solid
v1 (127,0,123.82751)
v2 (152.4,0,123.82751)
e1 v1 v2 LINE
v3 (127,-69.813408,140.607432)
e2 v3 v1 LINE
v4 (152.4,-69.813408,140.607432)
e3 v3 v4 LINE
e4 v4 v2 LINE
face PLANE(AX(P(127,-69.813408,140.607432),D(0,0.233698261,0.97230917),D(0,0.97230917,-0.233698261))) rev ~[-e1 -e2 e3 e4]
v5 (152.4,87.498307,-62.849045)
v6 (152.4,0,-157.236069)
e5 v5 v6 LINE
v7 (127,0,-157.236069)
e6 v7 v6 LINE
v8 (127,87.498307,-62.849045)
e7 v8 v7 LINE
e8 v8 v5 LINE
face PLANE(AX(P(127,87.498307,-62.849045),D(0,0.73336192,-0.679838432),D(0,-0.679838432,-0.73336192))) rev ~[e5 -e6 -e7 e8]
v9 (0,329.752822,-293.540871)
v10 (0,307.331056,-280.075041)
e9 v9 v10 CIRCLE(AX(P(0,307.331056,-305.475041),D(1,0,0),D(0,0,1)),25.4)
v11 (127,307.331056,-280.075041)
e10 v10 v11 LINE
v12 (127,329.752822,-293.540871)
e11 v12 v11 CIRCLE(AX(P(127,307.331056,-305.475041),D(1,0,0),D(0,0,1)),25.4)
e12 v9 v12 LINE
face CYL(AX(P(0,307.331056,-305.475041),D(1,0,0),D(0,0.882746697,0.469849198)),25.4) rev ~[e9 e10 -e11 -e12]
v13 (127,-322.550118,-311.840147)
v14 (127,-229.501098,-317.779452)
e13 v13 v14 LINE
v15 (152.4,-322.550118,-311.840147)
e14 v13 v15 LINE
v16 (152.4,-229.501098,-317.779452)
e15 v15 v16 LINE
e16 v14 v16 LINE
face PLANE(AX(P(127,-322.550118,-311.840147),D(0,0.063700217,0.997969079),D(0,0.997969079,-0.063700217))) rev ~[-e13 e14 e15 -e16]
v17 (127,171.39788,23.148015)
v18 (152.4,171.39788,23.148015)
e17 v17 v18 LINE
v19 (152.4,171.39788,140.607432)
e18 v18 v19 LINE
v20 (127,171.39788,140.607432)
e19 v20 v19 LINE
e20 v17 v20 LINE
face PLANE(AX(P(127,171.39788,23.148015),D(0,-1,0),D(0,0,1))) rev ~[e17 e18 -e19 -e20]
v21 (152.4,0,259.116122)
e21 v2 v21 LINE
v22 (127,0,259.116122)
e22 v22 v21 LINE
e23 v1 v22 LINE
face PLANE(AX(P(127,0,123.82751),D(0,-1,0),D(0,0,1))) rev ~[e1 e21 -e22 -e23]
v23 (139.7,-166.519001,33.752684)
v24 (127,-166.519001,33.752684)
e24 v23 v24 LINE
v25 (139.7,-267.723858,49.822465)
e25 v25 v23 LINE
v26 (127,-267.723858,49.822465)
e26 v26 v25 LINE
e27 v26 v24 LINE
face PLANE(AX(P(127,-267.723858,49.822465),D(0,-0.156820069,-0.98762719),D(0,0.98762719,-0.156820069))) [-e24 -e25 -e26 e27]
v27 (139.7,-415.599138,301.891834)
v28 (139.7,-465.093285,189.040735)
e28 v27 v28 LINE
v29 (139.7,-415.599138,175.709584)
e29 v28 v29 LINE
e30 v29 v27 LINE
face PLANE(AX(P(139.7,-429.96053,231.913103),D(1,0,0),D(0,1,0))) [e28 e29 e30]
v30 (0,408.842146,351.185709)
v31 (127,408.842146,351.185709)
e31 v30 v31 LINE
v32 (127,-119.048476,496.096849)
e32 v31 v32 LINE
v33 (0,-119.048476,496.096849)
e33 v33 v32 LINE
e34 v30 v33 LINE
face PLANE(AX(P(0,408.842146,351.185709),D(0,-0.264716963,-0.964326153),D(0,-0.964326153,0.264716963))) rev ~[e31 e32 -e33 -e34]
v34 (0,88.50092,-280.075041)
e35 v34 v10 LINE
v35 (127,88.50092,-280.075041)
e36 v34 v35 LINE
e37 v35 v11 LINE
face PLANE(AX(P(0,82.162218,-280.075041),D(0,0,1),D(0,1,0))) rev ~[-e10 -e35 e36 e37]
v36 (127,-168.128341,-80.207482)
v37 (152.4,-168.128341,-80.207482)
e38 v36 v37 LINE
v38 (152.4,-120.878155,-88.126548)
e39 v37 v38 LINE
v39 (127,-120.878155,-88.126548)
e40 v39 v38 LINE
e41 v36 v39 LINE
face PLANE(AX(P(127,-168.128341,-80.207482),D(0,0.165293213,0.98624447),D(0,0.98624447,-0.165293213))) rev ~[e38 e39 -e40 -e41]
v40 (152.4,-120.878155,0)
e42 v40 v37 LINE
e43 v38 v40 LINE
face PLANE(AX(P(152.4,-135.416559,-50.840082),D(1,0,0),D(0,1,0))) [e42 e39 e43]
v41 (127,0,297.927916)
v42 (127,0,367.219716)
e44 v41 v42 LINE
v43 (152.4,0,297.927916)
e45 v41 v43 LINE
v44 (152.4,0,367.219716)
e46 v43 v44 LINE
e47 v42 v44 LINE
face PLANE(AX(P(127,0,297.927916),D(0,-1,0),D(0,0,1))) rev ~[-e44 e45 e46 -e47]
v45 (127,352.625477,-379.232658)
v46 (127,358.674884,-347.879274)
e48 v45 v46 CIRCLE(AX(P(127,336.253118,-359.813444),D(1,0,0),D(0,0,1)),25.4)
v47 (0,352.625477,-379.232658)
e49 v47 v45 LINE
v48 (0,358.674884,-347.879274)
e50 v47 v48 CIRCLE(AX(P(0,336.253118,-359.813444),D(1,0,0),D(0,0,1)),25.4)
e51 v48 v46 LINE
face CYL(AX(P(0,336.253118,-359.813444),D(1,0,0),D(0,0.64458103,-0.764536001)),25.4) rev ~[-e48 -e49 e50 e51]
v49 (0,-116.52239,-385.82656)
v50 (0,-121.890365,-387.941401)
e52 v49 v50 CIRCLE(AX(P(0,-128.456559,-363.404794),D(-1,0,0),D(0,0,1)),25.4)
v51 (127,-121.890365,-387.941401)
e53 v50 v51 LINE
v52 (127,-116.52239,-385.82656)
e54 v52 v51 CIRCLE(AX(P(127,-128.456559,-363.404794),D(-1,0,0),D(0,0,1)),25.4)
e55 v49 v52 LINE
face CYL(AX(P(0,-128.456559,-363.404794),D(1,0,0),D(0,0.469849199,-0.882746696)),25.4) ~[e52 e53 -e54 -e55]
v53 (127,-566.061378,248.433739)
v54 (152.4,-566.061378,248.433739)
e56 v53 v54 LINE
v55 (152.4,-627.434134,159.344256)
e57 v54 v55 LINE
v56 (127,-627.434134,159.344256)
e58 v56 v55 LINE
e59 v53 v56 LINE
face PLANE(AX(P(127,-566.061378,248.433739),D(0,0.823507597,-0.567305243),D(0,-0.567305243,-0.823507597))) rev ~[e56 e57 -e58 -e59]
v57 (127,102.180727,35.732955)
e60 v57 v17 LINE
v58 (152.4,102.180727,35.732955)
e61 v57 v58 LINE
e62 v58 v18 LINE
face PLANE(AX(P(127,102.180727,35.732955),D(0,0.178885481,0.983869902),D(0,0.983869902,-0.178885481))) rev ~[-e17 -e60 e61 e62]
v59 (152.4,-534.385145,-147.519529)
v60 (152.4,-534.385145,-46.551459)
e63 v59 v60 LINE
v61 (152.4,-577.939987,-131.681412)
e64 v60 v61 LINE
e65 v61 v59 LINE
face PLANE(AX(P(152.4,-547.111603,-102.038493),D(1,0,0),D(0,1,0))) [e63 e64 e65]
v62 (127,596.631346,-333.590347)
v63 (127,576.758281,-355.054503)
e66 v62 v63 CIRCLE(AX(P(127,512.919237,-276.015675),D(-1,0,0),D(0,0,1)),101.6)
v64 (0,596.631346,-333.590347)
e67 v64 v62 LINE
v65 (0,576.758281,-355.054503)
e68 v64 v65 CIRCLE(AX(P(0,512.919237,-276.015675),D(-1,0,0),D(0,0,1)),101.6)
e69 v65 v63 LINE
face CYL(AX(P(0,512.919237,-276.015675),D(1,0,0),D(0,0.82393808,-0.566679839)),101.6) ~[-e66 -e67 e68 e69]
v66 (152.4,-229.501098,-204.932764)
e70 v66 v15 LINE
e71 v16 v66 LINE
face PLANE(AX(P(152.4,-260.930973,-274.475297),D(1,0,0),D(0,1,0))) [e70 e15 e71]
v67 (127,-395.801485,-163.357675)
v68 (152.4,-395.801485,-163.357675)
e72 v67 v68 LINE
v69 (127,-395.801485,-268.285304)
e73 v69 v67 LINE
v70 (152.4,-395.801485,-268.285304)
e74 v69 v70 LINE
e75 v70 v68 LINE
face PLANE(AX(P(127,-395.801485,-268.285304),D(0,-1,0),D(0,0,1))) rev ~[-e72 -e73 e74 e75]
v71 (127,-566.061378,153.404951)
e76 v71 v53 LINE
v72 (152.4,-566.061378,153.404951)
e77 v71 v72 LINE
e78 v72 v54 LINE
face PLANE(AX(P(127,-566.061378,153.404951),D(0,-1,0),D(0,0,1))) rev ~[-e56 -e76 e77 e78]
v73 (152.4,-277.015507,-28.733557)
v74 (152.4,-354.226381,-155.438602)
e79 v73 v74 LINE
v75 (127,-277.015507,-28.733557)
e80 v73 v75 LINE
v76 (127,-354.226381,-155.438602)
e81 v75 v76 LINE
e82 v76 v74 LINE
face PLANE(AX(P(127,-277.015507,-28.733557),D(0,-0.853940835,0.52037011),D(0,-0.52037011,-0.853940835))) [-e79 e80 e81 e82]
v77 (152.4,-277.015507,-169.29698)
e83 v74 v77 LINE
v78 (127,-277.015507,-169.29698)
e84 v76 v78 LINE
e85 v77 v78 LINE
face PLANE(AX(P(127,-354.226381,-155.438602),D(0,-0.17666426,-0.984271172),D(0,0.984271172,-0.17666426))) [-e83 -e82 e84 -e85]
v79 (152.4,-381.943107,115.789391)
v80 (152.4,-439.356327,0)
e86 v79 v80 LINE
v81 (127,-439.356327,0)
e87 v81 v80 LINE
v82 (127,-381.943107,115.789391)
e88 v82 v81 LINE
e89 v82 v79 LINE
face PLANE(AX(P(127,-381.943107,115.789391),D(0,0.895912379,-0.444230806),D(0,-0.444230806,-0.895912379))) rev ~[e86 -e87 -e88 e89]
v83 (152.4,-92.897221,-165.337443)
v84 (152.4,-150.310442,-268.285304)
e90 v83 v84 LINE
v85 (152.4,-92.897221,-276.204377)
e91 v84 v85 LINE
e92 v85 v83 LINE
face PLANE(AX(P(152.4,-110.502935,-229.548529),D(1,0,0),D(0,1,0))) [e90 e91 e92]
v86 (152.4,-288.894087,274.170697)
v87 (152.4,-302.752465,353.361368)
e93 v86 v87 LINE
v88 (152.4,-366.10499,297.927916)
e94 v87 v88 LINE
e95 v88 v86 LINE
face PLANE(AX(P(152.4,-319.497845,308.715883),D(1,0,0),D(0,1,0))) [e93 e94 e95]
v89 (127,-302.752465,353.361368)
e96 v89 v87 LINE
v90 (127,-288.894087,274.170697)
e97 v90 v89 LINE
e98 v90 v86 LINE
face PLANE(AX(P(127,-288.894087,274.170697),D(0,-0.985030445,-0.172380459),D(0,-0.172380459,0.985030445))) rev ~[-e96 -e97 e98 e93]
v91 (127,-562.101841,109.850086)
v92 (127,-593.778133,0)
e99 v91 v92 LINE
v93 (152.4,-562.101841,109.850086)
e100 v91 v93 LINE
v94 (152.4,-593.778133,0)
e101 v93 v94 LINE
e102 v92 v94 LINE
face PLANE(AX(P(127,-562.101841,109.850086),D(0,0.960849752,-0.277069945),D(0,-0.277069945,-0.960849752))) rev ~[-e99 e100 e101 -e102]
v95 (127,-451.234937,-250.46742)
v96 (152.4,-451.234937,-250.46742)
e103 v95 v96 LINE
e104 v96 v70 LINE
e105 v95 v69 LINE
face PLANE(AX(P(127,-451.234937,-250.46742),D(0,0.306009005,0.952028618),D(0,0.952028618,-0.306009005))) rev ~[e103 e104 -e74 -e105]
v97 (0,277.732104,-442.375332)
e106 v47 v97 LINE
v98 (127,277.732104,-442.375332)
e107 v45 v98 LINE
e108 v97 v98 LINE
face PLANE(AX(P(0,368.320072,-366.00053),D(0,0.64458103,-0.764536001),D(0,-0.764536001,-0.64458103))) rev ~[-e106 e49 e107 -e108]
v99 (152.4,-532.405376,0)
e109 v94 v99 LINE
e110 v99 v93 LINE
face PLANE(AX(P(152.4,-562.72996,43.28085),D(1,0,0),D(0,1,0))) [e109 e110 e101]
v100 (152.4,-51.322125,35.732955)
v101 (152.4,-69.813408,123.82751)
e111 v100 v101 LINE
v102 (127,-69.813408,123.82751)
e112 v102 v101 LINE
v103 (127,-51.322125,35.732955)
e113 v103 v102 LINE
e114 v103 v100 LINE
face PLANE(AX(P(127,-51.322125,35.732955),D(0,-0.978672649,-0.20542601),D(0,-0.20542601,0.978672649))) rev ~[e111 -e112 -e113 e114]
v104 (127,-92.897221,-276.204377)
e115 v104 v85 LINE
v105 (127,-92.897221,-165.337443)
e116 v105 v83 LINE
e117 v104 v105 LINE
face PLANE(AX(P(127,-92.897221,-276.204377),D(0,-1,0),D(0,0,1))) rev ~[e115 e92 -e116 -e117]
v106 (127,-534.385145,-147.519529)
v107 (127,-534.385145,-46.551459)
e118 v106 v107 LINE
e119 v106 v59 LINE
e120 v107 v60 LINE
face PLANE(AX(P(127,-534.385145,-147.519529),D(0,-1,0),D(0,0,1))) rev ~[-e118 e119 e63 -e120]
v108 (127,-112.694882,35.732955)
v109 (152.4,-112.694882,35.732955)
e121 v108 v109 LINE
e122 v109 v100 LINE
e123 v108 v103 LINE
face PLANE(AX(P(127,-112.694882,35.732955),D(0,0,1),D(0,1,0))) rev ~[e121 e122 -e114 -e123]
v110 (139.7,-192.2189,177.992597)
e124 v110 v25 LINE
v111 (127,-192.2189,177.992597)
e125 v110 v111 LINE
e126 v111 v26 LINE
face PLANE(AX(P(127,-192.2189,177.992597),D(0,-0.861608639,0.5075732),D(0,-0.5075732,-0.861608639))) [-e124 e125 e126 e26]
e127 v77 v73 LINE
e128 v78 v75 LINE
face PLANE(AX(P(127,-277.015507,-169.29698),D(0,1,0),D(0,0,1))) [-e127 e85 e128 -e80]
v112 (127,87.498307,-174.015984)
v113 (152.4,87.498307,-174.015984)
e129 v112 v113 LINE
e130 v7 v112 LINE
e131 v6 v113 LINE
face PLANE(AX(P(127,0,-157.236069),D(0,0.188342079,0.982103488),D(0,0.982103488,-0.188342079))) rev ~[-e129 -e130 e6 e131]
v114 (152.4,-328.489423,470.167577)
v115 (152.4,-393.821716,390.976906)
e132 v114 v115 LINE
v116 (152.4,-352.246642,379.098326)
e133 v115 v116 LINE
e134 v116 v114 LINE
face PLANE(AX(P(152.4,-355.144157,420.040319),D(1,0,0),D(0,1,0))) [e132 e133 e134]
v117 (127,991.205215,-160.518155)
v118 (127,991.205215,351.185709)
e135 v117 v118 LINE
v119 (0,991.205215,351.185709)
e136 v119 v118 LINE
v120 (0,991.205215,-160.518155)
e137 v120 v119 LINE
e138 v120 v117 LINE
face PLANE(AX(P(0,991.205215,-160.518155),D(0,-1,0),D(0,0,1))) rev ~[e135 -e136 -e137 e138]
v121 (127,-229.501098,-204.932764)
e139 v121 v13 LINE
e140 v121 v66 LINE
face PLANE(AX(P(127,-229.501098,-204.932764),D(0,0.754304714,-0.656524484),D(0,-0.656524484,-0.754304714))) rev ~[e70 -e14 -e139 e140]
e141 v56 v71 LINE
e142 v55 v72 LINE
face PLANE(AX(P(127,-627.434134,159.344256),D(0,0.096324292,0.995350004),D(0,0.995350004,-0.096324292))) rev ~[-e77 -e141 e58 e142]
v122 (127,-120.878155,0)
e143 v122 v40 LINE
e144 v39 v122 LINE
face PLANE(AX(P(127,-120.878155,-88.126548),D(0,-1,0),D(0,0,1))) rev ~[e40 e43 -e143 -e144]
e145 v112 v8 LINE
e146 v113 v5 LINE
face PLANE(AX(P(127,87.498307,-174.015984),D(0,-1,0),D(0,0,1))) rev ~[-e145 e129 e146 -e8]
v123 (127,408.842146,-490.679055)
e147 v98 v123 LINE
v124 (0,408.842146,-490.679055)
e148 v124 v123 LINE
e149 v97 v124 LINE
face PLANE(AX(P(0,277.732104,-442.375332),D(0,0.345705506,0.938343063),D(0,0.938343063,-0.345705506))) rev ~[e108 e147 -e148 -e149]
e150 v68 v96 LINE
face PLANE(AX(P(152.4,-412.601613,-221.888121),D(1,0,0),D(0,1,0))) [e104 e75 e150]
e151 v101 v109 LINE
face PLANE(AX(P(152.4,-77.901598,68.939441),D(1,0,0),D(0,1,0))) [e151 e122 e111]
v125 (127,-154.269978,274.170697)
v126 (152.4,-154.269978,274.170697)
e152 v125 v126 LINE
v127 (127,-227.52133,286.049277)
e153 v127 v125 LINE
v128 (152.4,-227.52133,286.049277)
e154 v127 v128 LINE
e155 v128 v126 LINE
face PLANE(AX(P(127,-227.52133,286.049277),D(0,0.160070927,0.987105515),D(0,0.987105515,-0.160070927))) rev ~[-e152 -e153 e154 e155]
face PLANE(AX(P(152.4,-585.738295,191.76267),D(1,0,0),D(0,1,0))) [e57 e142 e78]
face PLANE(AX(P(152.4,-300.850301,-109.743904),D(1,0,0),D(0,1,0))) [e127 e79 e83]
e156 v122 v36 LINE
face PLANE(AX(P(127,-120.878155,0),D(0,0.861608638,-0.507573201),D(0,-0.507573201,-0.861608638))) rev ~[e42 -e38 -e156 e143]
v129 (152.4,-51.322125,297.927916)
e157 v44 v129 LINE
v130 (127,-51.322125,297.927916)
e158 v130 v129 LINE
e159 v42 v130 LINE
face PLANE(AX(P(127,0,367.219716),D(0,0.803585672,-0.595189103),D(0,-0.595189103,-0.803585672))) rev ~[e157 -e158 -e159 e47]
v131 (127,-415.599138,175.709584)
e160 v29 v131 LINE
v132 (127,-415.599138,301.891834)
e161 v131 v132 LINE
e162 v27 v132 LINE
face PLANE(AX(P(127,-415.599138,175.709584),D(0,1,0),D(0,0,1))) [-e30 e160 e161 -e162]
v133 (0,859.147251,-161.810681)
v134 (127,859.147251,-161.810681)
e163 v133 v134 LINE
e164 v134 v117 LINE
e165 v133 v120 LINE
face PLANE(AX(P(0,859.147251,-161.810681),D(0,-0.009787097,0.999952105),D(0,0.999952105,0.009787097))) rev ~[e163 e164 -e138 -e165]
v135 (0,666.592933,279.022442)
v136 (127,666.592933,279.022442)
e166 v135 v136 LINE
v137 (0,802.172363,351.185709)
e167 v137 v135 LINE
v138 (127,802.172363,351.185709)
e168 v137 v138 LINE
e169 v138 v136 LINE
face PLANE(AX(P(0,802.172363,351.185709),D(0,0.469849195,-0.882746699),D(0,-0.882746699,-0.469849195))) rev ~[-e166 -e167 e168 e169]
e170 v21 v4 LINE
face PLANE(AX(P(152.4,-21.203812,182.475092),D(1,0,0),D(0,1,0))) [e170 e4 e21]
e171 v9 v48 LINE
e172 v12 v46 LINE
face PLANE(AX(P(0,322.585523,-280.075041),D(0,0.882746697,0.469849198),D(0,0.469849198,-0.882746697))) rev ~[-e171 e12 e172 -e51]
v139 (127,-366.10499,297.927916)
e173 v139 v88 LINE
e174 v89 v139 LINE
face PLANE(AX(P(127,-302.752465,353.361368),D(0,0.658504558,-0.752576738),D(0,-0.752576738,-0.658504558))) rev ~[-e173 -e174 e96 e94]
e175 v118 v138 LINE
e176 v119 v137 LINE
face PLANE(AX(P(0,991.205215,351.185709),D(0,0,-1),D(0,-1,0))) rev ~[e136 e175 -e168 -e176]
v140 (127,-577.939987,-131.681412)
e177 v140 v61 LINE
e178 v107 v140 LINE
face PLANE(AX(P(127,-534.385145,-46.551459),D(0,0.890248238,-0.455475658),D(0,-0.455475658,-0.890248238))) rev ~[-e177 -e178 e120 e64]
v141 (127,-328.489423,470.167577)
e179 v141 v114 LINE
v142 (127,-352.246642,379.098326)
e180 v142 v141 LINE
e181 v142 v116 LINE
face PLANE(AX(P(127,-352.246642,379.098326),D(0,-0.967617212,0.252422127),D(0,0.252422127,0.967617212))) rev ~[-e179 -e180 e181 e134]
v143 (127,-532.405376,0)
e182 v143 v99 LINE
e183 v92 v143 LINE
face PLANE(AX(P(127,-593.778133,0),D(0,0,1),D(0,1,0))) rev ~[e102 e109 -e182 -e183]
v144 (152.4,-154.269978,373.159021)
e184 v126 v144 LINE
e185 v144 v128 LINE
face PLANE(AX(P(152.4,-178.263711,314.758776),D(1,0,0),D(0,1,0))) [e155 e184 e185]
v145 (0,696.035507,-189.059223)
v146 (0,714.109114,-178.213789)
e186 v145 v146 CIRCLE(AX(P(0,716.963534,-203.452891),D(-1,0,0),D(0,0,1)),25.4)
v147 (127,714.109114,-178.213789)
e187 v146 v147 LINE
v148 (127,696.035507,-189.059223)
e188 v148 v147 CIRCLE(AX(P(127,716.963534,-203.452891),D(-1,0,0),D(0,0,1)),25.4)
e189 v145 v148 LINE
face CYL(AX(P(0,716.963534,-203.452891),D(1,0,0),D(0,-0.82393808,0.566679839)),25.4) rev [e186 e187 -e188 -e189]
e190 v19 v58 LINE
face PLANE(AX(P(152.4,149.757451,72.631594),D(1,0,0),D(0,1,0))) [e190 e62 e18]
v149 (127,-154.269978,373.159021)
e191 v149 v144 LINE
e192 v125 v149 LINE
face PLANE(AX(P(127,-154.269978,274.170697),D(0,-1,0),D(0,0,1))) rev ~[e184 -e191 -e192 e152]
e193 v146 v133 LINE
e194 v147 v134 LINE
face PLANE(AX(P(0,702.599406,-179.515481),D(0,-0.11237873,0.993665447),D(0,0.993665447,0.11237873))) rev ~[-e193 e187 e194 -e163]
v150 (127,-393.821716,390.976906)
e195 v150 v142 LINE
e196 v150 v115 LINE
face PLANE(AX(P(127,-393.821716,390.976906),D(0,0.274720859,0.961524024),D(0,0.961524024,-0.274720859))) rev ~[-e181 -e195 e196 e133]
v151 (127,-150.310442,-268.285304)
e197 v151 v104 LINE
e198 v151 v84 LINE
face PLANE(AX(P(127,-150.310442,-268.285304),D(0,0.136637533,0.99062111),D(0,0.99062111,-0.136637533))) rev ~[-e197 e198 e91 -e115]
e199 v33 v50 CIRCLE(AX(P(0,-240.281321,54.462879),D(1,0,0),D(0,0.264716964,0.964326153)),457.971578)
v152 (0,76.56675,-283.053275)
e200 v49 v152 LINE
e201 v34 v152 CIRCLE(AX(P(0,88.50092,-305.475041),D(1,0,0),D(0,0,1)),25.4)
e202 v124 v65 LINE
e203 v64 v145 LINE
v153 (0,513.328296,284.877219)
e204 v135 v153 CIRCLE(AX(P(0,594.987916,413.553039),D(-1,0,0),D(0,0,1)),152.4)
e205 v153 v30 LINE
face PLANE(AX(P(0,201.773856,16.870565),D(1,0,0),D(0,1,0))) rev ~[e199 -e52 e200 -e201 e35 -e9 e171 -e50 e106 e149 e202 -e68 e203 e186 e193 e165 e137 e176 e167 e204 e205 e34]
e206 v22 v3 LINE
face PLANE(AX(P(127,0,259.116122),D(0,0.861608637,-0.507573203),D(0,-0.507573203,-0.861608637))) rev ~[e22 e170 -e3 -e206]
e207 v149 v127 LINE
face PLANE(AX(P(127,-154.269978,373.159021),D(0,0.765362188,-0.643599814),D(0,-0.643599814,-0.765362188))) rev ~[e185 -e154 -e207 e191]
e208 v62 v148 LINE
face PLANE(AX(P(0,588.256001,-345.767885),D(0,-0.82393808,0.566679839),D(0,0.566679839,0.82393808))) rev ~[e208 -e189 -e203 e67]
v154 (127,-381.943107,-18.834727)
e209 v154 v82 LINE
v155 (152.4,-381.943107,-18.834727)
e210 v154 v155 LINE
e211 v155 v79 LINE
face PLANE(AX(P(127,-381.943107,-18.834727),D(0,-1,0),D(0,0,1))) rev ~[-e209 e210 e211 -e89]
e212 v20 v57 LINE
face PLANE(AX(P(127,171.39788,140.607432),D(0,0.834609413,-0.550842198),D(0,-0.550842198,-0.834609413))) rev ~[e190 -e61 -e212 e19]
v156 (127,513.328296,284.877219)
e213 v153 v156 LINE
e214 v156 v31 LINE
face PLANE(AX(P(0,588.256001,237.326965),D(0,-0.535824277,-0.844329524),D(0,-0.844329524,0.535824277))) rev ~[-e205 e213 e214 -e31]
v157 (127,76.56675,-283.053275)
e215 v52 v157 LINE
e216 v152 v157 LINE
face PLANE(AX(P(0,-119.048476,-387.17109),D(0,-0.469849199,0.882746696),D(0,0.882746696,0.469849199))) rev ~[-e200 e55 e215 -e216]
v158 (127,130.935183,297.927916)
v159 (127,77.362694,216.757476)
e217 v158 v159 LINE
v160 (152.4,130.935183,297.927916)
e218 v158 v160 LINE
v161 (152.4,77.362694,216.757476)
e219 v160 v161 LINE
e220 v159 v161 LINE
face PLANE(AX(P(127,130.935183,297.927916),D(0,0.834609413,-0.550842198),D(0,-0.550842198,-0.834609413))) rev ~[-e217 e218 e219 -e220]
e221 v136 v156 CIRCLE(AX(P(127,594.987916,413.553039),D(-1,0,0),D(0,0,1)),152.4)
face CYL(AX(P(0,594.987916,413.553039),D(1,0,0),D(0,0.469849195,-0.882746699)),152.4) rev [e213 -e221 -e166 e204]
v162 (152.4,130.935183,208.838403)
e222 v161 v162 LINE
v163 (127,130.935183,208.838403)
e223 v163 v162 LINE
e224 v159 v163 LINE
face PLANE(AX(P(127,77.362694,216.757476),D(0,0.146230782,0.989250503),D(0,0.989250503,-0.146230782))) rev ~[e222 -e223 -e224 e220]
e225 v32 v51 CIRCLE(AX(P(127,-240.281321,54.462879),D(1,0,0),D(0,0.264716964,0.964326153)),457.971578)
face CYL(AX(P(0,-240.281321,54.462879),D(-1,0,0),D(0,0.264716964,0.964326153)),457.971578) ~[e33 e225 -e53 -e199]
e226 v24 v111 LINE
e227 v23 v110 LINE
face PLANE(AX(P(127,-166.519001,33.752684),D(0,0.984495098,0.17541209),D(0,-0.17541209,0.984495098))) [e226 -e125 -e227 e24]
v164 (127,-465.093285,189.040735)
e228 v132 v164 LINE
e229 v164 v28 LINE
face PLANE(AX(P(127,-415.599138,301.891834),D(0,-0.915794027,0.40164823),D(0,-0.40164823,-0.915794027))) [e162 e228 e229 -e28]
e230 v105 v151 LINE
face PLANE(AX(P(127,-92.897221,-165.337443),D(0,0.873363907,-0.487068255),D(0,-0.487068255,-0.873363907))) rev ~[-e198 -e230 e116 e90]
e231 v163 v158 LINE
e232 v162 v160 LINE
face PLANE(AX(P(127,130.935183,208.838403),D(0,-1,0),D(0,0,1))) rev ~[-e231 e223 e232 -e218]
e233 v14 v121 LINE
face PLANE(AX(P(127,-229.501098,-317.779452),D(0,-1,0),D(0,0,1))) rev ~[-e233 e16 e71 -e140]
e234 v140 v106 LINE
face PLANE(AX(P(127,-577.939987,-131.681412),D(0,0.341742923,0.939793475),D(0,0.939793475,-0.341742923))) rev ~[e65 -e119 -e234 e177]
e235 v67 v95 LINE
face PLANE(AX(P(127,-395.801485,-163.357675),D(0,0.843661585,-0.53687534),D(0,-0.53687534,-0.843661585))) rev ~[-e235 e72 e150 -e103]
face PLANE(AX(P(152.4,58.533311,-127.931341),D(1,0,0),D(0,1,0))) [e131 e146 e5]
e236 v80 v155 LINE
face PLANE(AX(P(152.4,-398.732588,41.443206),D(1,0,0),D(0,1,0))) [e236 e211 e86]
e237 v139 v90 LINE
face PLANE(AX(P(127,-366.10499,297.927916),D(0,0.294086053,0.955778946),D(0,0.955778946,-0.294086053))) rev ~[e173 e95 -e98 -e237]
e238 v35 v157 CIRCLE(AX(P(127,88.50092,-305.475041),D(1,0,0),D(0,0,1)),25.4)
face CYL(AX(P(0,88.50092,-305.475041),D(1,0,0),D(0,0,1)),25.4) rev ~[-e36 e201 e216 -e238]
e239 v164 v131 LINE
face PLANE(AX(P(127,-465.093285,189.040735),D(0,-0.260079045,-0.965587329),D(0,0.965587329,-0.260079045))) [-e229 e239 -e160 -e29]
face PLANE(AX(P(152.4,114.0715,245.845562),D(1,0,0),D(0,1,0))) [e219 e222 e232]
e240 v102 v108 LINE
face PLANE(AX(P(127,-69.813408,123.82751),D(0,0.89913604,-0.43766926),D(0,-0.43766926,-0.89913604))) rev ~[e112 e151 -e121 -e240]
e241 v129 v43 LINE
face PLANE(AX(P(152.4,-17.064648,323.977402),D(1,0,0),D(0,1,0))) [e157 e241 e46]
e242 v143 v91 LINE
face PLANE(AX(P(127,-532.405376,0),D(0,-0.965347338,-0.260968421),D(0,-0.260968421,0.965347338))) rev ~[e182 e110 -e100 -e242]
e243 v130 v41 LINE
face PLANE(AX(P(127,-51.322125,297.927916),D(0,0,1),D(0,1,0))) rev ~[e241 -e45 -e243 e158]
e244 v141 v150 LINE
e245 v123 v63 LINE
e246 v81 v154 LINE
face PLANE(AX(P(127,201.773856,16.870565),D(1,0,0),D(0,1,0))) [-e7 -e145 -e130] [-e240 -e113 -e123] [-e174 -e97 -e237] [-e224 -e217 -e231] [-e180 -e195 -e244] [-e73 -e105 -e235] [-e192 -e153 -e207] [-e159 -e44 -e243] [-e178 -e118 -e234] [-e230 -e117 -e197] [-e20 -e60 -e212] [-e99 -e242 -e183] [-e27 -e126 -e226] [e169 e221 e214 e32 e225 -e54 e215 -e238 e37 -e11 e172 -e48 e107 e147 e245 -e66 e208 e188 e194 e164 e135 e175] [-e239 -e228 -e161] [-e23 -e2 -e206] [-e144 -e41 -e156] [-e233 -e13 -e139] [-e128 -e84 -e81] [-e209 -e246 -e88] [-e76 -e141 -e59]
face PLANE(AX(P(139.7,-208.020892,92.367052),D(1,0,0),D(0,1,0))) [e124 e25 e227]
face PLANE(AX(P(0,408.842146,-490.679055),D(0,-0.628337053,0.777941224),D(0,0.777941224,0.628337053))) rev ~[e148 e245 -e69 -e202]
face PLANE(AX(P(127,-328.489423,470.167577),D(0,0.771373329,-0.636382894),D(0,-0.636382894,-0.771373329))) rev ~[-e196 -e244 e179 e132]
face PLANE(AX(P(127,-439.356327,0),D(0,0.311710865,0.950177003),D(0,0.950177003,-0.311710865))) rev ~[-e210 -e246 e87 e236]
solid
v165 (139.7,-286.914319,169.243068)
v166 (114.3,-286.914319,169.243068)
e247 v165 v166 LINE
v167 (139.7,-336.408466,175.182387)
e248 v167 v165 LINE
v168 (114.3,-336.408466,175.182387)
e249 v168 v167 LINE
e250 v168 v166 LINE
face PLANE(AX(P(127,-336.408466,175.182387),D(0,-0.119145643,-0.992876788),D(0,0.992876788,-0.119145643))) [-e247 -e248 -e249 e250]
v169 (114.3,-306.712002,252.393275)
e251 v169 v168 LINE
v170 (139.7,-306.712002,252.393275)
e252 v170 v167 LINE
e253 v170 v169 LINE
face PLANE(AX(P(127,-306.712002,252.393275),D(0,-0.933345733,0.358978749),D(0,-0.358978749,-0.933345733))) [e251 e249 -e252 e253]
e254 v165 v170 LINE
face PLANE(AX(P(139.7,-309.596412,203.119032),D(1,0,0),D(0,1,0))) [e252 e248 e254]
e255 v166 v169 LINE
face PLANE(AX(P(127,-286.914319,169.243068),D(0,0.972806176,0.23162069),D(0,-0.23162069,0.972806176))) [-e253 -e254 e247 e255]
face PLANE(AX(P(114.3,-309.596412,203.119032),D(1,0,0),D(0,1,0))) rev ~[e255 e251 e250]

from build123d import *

# Parameters (mm, degrees)
F1_DEPTH  = 127
F2_R      = 152.4
F3_R      = 101.6
F4_R      = 25.4
F5_R      = 25.4
F6_R      = 25.4
F7_R      = 25.4
F8_R      = 25.4
F10_DEPTH = 12.7
F12_DEPTH = 12.7
F14_DEPTH = 12.7
F16_DEPTH = 25.4
F18_DEPTH = 25.4
F20_DEPTH = 25.4
F22_DEPTH = 25.4


with BuildPart() as f1:
    # F0 (on Right) → F1 (new body)
    with BuildSketch(Plane.YZ):
        with BuildLine():
            Line((859.147251, -161.810681), (991.205215, -160.518155))
            Line((991.205215, -160.518155), (991.205215, 351.185709))
            Line((991.205215, 351.185709), (802.172363, 351.185709))
            Line((802.172363, 351.185709), (588.256001, 237.326965))
            Line((588.256001, 237.326965), (408.842146, 351.185709))
            Line((408.842146, 351.185709), (-119.048476, 496.096849))
            ThreePointArc((-119.048476, 496.096849), (-698.252899, 54.46288), (-119.048476, -387.17109))
            Line((-119.048476, -387.17109), (82.162218, -280.075041))
            Line((82.162218, -280.075041), (322.585523, -280.075041))
            Line((322.585523, -280.075041), (368.320072, -366.00053))
            Line((368.320072, -366.00053), (277.732104, -442.375332))
            Line((277.732104, -442.375332), (408.842146, -490.679055))
            Line((408.842146, -490.679055), (588.256001, -345.767885))
            Line((588.256001, -345.767885), (702.599406, -179.515481))
            Line((702.599406, -179.515481), (859.147251, -161.810681))
        make_face()
    extrude(amount=F1_DEPTH)

    # F2
    f2_edges = [f1.edges().sort_by_distance(p)[0] for p in [
        (63.5, 588.256001, 237.326965),
    ]]
    fillet(f2_edges, radius=F2_R)

    # F3
    f3_edges = [f1.edges().sort_by_distance(p)[0] for p in [
        (63.5, 588.256001, -345.767885),
    ]]
    fillet(f3_edges, radius=F3_R)

    # F4
    f4_edges = [f1.edges().sort_by_distance(p)[0] for p in [
        (63.5, 368.320072, -366.00053),
    ]]
    fillet(f4_edges, radius=F4_R)

    # F5
    f5_edges = [f1.edges().sort_by_distance(p)[0] for p in [
        (63.5, 322.585523, -280.075041),
    ]]
    fillet(f5_edges, radius=F5_R)

    # F6
    f6_edges = [f1.edges().sort_by_distance(p)[0] for p in [
        (63.5, 702.599406, -179.515481),
    ]]
    fillet(f6_edges, radius=F6_R)

    # F7
    f7_edges = [f1.edges().sort_by_distance(p)[0] for p in [
        (63.5, 82.162218, -280.075041),
    ]]
    fillet(f7_edges, radius=F7_R)

    # F8
    f8_edges = [f1.edges().sort_by_distance(p)[0] for p in [
        (63.5, -119.048476, -387.17109),
    ]]
    fillet(f8_edges, radius=F8_R)

    # F9 (on face) → F10 (join, symmetric)
    with BuildSketch(Plane.YZ.offset(127)):
        Polygon((-415.599138, 301.891834), (-465.093285, 189.040735), (-415.599138, 175.709584), align=None)
    extrude(amount=F10_DEPTH, both=True)

    # F13 (on face) → F14 (join, symmetric)
    with BuildSketch(Plane.YZ.offset(127)):
        Polygon((-192.2189, 177.992597), (-267.723858, 49.822465), (-166.519001, 33.752684), align=None)
    extrude(amount=F14_DEPTH, both=True)

    # F15 (on face) → F16 (join, symmetric)
    with BuildSketch(Plane.YZ.offset(127)):
        Polygon((-277.015507, -28.733557), (-354.226381, -155.438602), (-277.015507, -169.29698), align=None)
    extrude(amount=F16_DEPTH, both=True)

    # F17 (on face) → F18 (join)
    with BuildSketch(Plane.YZ.offset(127)):
        Polygon((-381.943107, 115.789391), (-439.356327, 0), (-381.943107, -18.834727), align=None)
    extrude(amount=F18_DEPTH)

    # F19 (on face) → F20 (join)
    with BuildSketch(Plane.YZ.offset(127)):
        Polygon((0, 259.116122), (-69.813408, 140.607432), (0, 123.82751), align=None)
        Polygon((171.39788, 140.607432), (102.180727, 35.732955), (171.39788, 23.148015), align=None)
        Polygon((87.498307, -62.849045), (0, -157.236069), (87.498307, -174.015984), align=None)
    extrude(amount=F20_DEPTH)

    # F21 (on face) → F22 (join)
    with BuildSketch(Plane.YZ.offset(127)):
        Polygon((-562.101841, 109.850086), (-593.778133, 0), (-532.405376, 0), align=None)
        Polygon((-534.385145, -46.551459), (-577.939987, -131.681412), (-534.385145, -147.519529), align=None)
        Polygon((-395.801485, -163.357675), (-451.234937, -250.46742), (-395.801485, -268.285304), align=None)
        Polygon((-229.501098, -204.932764), (-322.550118, -311.840147), (-229.501098, -317.779452), align=None)
        Polygon((-92.897221, -165.337443), (-150.310442, -268.285304), (-92.897221, -276.204377), align=None)
        Polygon((-120.878155, 0), (-168.128341, -80.207482), (-120.878155, -88.126548), align=None)
        Polygon((-69.813408, 123.82751), (-112.694882, 35.732955), (-51.322125, 35.732955), align=None)
        Polygon((-154.269978, 373.159021), (-227.52133, 286.049277), (-154.269978, 274.170697), align=None)
        Polygon((-302.752465, 353.361368), (-366.10499, 297.927916), (-288.894087, 274.170697), align=None)
        Polygon((-328.489423, 470.167577), (-393.821716, 390.976906), (-352.246642, 379.098326), align=None)
        Polygon((0, 367.219716), (-51.322125, 297.927916), (0, 297.927916), align=None)
        Polygon((130.935183, 297.927916), (77.362694, 216.757476), (130.935183, 208.838403), align=None)
        Polygon((-566.061378, 248.433739), (-627.434134, 159.344256), (-566.061378, 153.404951), align=None)
    extrude(amount=F22_DEPTH)


with BuildPart() as f12:
    # F11 (on face) → F12 (new body, symmetric)
    with BuildSketch(Plane.YZ.offset(127)):
        Polygon((-306.712002, 252.393275), (-336.408466, 175.182387), (-286.914319, 169.243068), align=None)
    extrude(amount=F12_DEPTH, both=True)


solid = Compound([f1.part, f12.part])
